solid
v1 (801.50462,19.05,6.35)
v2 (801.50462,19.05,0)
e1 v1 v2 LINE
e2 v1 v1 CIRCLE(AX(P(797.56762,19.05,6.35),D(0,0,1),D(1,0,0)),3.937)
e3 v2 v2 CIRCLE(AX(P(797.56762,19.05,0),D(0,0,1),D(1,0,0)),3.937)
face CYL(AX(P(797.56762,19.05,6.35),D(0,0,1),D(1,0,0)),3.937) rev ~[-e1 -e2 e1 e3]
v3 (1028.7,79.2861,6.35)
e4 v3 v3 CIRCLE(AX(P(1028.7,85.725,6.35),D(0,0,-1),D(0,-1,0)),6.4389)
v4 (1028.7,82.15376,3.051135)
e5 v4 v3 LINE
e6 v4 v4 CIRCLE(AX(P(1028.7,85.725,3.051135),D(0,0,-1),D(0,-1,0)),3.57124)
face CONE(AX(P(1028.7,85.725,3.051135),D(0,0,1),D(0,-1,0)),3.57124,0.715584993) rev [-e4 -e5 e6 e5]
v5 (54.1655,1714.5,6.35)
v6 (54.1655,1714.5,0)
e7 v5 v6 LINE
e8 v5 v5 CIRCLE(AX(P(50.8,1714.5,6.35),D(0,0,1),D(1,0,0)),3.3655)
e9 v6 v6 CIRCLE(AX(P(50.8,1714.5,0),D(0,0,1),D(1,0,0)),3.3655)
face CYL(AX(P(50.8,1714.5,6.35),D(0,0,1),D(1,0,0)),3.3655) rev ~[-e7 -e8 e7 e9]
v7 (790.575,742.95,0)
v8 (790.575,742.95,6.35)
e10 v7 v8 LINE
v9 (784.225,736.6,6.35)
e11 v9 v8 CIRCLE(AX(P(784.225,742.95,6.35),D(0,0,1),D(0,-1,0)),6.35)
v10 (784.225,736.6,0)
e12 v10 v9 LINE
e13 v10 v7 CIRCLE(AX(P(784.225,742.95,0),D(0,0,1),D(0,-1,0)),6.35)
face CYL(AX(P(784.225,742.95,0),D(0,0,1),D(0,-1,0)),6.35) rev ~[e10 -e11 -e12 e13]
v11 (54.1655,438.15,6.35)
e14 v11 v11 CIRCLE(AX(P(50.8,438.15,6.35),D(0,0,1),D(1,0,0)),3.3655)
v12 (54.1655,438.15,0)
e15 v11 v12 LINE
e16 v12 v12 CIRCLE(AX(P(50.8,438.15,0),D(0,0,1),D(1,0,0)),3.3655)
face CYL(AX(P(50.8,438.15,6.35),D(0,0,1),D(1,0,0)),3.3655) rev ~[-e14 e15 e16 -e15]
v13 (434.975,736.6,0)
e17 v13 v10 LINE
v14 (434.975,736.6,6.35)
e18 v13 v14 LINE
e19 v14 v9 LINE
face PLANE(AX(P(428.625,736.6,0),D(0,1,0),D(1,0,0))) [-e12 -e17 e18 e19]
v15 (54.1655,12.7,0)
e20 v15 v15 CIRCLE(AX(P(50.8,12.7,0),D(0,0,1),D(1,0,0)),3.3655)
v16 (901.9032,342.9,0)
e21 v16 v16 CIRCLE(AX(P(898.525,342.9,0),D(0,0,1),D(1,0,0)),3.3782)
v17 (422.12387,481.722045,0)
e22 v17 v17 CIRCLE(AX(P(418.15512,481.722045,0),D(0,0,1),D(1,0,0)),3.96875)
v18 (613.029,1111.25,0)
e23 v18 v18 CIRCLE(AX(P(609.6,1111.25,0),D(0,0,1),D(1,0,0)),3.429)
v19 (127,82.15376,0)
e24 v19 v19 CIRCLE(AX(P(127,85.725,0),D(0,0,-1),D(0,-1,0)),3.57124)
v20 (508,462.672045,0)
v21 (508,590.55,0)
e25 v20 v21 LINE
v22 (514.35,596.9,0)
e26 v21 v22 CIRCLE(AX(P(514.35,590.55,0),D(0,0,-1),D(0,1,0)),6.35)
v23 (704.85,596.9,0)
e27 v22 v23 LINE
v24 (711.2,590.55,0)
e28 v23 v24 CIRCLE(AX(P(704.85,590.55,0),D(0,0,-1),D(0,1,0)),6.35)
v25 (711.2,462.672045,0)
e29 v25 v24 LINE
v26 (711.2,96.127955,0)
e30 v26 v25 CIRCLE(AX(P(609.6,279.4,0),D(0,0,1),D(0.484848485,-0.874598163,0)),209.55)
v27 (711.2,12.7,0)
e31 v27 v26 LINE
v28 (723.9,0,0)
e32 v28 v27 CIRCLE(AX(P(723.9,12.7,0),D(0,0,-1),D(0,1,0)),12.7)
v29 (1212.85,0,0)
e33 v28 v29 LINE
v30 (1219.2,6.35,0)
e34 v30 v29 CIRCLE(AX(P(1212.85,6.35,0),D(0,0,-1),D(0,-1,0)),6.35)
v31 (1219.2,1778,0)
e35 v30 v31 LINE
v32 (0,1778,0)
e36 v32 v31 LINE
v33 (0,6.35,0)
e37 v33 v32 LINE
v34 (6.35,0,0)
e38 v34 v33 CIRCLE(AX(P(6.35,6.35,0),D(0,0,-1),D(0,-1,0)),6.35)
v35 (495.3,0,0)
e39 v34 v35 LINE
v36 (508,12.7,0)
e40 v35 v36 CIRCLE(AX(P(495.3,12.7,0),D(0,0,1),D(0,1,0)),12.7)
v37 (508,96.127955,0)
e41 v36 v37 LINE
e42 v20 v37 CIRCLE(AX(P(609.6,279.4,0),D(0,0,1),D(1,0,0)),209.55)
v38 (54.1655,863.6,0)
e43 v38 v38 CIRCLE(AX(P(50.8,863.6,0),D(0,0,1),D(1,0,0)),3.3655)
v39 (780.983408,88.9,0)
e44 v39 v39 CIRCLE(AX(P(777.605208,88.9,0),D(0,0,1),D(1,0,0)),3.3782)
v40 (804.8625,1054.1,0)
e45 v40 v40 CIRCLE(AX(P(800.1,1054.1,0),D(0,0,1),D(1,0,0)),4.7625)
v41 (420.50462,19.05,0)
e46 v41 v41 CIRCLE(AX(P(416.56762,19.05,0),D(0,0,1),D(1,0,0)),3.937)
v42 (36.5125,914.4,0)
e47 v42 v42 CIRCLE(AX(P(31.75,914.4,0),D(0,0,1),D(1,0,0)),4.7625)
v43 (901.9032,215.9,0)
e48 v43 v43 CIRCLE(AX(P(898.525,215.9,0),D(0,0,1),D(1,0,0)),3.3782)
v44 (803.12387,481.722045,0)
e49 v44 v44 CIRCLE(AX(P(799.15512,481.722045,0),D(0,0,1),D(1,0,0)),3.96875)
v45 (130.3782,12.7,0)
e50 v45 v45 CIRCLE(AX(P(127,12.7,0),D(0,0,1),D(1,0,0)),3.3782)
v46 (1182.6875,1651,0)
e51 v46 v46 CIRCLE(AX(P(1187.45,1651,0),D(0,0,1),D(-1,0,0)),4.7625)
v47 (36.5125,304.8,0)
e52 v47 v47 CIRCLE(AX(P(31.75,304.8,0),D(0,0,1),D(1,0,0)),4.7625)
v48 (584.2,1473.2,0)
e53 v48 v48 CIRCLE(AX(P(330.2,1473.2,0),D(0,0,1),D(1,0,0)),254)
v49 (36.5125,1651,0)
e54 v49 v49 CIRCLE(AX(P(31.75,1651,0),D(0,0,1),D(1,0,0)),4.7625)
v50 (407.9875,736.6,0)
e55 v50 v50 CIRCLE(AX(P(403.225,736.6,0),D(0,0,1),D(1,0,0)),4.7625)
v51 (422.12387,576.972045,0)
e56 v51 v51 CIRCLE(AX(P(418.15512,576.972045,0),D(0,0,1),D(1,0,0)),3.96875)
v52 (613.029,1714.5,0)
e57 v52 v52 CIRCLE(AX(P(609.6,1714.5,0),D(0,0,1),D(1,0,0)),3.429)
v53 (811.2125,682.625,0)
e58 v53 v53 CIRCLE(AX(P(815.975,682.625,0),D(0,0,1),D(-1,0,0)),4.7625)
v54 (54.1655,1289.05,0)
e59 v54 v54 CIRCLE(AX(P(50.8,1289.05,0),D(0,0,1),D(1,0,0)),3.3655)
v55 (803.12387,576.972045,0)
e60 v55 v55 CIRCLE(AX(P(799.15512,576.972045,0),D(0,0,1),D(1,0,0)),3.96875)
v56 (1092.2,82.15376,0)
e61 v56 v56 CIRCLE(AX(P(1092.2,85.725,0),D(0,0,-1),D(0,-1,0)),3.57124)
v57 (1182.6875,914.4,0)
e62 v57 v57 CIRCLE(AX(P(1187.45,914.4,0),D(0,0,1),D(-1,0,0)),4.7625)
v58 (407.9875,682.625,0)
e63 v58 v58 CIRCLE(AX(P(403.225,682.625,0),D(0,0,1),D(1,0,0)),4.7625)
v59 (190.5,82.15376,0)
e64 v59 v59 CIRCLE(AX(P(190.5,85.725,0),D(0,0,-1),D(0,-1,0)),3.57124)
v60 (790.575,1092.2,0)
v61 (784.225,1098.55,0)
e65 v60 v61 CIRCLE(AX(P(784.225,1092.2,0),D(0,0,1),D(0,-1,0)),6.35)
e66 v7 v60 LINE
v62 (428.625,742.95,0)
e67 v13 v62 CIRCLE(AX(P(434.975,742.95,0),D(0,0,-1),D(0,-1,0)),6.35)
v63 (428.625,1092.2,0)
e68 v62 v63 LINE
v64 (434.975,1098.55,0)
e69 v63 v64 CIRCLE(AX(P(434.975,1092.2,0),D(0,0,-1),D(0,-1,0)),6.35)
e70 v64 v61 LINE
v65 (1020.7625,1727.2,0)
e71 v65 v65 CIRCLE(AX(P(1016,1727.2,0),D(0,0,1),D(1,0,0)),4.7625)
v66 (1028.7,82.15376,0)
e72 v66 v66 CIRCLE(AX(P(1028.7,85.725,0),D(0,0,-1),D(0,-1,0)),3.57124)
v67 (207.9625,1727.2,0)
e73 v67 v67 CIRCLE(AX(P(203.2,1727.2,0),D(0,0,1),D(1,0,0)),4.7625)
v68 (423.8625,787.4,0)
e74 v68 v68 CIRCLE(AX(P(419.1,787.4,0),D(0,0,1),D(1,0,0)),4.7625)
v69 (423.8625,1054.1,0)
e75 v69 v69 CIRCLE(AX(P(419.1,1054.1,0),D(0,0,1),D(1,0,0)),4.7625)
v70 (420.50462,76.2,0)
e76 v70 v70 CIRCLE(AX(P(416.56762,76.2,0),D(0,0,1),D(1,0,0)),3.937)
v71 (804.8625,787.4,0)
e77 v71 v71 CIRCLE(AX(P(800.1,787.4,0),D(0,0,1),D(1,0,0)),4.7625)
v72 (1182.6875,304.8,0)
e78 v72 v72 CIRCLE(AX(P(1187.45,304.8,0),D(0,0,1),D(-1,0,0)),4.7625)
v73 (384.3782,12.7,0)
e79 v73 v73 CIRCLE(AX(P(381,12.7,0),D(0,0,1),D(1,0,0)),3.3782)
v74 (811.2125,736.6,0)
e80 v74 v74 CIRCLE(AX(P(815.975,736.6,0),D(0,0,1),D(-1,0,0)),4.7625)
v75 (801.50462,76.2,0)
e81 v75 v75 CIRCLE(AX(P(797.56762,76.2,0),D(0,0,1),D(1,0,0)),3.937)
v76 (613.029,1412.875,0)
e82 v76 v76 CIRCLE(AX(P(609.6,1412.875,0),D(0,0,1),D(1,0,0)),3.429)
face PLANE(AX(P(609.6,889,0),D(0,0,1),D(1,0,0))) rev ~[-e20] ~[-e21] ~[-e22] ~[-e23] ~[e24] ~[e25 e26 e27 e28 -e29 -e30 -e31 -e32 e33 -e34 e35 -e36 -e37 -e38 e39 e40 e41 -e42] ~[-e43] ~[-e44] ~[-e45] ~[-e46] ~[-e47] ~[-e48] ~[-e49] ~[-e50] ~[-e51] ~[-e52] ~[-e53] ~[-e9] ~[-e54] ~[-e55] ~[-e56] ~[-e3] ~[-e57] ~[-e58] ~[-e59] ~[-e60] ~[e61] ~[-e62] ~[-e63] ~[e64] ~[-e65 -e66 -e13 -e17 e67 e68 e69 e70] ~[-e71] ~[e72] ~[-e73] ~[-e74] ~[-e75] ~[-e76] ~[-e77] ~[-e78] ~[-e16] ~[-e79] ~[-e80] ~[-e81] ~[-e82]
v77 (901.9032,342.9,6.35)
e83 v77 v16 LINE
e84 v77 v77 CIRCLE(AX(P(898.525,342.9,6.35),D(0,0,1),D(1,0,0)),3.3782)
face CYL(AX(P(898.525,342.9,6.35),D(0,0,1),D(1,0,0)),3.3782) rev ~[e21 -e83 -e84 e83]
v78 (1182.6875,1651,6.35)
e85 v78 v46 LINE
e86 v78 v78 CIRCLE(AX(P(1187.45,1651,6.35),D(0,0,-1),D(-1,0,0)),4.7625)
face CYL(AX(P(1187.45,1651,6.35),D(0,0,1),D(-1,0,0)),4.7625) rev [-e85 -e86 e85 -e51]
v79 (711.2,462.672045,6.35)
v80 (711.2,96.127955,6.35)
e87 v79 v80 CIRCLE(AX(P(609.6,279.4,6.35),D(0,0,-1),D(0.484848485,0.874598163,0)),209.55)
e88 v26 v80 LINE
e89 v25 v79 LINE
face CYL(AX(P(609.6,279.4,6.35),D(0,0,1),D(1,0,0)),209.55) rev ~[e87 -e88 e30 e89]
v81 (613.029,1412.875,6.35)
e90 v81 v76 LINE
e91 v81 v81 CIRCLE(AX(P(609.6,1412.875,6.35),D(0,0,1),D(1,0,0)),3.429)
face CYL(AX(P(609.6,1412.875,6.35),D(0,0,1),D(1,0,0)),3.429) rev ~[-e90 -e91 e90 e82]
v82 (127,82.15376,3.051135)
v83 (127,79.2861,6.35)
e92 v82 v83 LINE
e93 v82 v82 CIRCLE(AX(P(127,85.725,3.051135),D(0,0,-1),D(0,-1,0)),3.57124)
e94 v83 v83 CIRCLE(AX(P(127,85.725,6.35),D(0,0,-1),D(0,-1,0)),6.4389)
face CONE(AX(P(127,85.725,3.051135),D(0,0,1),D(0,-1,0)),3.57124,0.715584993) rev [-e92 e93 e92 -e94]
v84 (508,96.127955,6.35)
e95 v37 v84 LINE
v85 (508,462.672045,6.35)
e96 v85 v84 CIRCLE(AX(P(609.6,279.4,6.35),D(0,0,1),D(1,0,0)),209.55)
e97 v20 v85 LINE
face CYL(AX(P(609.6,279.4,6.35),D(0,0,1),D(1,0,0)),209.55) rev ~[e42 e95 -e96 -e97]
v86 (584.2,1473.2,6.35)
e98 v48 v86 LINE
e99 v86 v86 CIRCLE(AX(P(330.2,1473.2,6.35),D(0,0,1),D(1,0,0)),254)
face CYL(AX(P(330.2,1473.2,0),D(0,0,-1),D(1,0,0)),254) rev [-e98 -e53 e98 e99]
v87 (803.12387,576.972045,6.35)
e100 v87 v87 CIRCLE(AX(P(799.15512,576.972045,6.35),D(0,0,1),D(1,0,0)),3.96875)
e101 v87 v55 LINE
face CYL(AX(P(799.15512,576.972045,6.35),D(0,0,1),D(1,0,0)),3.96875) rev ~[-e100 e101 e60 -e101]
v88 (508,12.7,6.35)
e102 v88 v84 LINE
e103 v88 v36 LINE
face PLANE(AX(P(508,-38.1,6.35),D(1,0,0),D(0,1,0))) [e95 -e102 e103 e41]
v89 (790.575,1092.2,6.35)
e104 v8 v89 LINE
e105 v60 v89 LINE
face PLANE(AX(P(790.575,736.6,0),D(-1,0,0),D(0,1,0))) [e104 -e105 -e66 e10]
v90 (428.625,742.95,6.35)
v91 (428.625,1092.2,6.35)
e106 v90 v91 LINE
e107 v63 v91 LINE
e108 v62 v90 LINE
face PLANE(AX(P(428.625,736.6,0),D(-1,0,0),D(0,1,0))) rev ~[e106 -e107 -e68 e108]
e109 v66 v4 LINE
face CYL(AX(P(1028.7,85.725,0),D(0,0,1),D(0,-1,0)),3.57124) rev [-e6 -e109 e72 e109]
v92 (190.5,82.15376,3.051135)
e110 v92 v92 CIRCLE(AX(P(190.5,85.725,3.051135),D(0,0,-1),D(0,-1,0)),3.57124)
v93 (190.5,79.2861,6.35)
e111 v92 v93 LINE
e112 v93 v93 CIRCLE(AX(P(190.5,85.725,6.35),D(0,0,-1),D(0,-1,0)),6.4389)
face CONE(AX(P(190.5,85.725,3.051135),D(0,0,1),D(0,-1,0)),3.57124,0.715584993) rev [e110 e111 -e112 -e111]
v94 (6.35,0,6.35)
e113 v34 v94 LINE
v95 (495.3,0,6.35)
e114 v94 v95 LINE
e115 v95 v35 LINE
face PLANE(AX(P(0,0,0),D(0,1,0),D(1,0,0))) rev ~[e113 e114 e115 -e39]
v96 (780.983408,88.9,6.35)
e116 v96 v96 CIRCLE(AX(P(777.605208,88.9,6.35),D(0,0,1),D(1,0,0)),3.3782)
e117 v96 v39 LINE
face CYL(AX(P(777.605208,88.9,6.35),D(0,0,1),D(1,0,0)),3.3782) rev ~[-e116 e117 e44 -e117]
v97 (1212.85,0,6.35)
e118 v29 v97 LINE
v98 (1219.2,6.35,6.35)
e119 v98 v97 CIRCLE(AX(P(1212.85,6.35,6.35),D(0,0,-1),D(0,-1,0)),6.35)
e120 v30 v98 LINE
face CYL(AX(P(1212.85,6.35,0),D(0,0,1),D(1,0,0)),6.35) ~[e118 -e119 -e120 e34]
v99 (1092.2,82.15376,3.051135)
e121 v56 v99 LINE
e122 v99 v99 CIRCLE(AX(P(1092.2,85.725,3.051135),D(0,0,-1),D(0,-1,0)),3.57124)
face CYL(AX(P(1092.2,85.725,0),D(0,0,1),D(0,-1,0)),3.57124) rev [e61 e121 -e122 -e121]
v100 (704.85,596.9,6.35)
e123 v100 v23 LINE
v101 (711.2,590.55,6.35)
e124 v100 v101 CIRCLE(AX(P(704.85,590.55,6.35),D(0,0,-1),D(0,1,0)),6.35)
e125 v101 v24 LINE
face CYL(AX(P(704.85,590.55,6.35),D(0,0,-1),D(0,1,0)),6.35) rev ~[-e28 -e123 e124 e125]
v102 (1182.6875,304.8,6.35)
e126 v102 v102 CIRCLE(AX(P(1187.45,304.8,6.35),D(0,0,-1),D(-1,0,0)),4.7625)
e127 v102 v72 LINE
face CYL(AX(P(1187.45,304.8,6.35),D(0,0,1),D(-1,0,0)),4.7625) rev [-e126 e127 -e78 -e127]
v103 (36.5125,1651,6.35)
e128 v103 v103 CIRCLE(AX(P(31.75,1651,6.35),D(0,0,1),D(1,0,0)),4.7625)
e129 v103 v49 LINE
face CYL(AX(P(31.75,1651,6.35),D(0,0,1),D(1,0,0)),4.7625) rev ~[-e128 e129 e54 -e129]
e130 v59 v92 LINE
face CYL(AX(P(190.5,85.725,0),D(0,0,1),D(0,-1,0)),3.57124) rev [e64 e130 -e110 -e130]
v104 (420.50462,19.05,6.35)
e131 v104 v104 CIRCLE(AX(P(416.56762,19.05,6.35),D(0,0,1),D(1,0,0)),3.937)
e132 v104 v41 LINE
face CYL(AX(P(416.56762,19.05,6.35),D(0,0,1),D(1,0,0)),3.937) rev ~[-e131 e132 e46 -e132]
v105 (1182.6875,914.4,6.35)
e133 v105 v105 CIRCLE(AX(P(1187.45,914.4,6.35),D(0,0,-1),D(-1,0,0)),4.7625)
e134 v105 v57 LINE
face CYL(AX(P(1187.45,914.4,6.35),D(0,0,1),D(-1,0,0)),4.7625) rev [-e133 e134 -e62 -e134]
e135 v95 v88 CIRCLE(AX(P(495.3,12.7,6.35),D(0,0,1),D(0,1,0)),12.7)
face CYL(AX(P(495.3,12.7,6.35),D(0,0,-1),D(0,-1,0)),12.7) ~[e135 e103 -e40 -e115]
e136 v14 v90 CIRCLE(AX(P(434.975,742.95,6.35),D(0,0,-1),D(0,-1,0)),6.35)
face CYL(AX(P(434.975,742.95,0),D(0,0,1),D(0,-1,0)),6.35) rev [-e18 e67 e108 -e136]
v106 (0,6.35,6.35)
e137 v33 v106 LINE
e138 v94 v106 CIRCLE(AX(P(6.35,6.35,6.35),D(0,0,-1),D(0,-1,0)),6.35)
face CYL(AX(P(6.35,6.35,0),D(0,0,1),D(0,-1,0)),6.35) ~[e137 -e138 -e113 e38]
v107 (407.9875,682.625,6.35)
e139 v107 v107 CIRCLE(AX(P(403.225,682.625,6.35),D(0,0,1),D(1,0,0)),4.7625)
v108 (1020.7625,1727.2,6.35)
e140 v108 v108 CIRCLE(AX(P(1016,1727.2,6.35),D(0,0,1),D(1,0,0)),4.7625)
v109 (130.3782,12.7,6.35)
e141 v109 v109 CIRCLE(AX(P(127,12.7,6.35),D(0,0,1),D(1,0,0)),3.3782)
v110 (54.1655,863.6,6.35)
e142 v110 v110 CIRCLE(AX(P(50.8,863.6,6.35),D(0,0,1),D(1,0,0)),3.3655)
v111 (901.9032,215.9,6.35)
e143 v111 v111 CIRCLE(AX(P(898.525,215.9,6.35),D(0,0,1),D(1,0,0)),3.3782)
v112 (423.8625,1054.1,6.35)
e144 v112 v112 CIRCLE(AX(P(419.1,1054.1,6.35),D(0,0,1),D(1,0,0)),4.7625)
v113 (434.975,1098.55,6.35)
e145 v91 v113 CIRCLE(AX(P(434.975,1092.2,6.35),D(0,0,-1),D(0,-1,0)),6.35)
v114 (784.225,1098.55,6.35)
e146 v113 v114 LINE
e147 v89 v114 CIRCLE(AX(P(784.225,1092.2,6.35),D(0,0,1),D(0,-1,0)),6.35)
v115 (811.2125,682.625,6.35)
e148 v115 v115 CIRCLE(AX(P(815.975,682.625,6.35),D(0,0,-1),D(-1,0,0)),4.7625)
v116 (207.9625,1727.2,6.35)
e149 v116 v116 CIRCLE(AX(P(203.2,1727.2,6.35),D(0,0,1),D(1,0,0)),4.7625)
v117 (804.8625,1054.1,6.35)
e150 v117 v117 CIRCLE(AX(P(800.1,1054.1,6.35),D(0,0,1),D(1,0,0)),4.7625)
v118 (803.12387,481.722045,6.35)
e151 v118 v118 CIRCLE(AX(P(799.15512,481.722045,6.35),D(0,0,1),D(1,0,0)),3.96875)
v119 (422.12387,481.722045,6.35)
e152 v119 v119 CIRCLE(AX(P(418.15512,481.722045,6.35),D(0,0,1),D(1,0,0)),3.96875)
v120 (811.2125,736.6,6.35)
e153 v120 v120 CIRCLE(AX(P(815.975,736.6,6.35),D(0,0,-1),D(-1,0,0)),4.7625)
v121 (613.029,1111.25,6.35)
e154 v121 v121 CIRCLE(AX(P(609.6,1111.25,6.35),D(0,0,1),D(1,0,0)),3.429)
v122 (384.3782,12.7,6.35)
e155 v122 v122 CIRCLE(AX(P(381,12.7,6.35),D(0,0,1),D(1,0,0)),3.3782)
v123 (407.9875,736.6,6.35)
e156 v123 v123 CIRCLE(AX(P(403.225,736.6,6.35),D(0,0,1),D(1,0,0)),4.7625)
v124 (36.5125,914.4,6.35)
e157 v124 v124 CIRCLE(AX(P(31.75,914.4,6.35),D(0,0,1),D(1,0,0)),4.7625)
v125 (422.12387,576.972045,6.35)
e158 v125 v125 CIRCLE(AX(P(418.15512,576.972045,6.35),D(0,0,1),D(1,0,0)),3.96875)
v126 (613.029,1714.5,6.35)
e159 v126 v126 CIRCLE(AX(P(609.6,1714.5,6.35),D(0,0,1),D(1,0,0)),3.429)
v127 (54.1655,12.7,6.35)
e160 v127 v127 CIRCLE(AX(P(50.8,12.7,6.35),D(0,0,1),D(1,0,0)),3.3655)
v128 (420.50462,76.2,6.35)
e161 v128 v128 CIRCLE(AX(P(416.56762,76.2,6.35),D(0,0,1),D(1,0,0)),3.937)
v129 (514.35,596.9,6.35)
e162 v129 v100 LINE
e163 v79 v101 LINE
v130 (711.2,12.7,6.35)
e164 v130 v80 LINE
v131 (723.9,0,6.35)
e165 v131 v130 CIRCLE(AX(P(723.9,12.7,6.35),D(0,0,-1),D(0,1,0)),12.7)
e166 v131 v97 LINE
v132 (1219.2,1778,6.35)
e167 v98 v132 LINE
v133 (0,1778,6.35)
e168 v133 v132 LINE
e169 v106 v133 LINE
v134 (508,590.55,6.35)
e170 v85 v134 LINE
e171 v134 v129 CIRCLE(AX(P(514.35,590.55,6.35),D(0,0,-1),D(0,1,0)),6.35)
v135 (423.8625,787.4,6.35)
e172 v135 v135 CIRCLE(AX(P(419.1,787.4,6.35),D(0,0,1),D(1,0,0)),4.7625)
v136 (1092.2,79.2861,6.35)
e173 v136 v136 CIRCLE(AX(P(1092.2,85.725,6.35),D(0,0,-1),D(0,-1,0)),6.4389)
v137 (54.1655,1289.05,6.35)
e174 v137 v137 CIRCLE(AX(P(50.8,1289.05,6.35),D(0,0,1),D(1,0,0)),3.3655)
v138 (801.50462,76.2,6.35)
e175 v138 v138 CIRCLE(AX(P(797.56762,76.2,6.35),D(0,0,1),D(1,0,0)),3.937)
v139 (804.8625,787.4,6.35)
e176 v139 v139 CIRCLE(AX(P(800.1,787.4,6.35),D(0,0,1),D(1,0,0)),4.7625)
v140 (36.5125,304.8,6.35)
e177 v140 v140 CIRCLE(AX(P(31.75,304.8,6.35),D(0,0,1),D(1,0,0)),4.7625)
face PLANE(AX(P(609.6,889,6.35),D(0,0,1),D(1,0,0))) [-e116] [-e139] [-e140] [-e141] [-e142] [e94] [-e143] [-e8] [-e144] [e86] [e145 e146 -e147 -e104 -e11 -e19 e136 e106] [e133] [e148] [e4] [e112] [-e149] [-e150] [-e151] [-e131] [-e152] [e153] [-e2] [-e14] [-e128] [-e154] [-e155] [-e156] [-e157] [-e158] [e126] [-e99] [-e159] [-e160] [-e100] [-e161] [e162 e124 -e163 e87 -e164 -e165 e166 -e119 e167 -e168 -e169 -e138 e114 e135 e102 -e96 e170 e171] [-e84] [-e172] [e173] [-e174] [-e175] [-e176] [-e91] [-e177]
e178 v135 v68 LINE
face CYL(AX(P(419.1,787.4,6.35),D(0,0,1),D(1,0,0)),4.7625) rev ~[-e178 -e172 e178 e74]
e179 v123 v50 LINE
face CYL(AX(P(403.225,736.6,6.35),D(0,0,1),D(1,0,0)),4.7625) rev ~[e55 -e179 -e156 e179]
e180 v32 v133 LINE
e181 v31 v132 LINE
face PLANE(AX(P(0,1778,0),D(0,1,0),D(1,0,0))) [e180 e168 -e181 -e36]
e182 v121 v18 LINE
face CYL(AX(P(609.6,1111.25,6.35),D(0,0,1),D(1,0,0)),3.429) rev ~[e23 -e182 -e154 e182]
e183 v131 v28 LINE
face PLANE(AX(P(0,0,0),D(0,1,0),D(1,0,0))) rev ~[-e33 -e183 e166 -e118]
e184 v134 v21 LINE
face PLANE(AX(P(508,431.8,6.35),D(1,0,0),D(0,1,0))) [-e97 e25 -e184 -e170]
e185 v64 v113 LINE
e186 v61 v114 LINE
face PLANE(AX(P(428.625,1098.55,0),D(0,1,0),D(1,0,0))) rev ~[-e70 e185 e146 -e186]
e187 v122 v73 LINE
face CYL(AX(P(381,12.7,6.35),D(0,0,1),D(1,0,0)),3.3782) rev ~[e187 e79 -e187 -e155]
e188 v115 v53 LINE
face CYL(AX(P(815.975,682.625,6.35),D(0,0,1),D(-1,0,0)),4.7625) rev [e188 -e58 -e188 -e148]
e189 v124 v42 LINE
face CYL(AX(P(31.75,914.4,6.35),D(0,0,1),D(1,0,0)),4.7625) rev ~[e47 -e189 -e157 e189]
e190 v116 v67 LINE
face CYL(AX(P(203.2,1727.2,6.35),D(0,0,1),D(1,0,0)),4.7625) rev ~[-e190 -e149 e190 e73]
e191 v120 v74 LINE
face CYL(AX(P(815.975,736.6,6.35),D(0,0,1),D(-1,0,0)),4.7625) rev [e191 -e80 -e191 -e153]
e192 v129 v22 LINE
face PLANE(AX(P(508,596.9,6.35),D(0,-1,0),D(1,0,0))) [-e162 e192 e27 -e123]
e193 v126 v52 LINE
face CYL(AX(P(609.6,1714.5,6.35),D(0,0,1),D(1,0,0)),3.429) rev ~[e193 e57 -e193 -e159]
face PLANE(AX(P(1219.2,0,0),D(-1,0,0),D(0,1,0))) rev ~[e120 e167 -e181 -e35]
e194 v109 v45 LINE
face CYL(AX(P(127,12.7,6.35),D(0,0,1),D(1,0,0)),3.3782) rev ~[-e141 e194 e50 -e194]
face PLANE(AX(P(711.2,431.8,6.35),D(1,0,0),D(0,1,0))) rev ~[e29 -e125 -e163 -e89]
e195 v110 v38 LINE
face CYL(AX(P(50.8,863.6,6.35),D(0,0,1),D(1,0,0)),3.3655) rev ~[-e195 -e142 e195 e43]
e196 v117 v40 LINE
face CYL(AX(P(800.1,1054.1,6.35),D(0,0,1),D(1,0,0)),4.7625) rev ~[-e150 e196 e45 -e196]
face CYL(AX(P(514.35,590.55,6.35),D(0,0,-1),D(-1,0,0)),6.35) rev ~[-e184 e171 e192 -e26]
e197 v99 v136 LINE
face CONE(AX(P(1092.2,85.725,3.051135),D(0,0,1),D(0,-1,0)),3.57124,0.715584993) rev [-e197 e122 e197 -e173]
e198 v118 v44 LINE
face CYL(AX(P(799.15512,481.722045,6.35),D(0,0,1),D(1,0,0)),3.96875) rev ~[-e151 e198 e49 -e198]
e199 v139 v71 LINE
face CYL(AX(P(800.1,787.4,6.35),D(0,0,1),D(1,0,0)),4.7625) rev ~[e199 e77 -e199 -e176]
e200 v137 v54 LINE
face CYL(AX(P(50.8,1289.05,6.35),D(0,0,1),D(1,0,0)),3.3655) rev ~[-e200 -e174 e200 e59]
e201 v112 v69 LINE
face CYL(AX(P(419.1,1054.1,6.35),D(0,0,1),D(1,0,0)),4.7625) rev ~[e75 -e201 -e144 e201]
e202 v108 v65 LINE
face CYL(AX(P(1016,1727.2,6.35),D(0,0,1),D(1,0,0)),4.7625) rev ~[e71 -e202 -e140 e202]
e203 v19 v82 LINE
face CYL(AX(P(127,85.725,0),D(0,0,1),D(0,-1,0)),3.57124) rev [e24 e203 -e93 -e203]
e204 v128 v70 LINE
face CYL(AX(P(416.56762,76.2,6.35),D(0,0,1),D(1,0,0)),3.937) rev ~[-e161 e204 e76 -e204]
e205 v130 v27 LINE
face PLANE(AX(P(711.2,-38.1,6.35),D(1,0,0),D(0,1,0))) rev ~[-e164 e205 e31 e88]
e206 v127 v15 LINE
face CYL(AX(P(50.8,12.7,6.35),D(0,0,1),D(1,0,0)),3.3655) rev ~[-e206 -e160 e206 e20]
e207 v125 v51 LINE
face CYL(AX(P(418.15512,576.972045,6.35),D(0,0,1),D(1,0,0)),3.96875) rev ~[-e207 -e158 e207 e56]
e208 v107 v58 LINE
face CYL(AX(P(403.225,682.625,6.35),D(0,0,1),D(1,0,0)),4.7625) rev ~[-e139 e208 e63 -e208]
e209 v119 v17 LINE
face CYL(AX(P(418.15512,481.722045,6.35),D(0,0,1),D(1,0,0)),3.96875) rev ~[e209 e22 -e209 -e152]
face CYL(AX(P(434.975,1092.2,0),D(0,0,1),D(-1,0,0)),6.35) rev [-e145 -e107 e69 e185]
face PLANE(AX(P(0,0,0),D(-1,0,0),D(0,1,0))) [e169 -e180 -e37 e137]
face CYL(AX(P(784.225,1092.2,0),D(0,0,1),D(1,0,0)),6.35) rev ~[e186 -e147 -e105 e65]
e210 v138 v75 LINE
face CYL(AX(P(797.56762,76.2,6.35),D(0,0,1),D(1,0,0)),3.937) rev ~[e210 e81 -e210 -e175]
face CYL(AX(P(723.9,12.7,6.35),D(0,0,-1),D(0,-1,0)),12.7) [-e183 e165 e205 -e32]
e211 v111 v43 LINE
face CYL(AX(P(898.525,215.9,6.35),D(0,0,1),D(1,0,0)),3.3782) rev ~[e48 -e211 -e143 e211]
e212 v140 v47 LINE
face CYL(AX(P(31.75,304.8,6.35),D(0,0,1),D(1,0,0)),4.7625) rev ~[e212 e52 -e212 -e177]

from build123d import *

# Parameters (mm, degrees)
SKETCH1_W                                     = 1219.2
SKETCH1_H                                     = 1778
SKETCH1_R                                     = 254
SKETCH1_W_2                                   = 361.95
SKETCH1_H_2                                   = 361.95
BOSS_EXTRUDE1_DEPTH                           = 6.35
SKETCH3_R                                     = 209.55
CUT_EXTRUDE2_DEPTH                            = 2156.869421486
SKETCH2_W                                     = 203.2
SKETCH2_H                                     = 165.1
CUT_EXTRUDE1_DEPTH                            = 2156.869421486
SKETCH4_R                                     = 3.3655
CUT_EXTRUDE3_DEPTH                            = 2156.869421486
LPATTERN1_COUNT                               = 5
LPATTERN1_PITCH                               = 425.45
SKETCH5_R                                     = 3.429
CUT_EXTRUDE4_DEPTH                            = 2156.869421486
LPATTERN2_COUNT                               = 3
LPATTERN2_PITCH                               = 301.625
SKETCH6_R                                     = 3.3782
CUT_EXTRUDE5_DEPTH                            = 2156.869421486
SKETCH7_R                                     = 3.3782
CUT_EXTRUDE6_DEPTH                            = 2156.869421486
CSK_FOR_1_4_FLAT_HEAD_MACHINE_SCREW1_AT_COUNT = 2
CSK_FOR_1_4_FLAT_HEAD_MACHINE_SCREW1_AT_PITCH = 63.5
LPATTERN3_COUNT                               = 2
LPATTERN3_PITCH                               = 901.7
SKETCH12_R                                    = 4.7625
CUT_EXTRUDE7_DEPTH                            = 2156.869421486
SKETCH14_R                                    = 4.7625
CUT_EXTRUDE8_DEPTH                            = 2156.869421486
SKETCH15_R                                    = 4.7625
CUT_EXTRUDE9_DEPTH                            = 2156.869421486
SKETCH16_R                                    = 4.7625
CUT_EXTRUDE10_DEPTH                           = 2156.869421486
FILLET1_R                                     = 12.7
FILLET2_R                                     = 6.35
SKETCH17_R                                    = 3.937
CUT_EXTRUDE11_DEPTH                           = 2156.869421486
SKETCH18_R                                    = 3.96875
CUT_EXTRUDE12_DEPTH                           = 2156.869421486


with BuildPart() as part:
    # Sketch1 → Boss-Extrude1 (new body)
    with BuildSketch(Plane.XY):
        with Locations((609.6, 889)):
            Rectangle(SKETCH1_W, SKETCH1_H)
        with Locations((330.2, 1473.2)):
            Circle(SKETCH1_R, mode=Mode.SUBTRACT)
        with Locations((609.6, 917.575)):
            Rectangle(SKETCH1_W_2, SKETCH1_H_2, mode=Mode.SUBTRACT)
    extrude(amount=BOSS_EXTRUDE1_DEPTH)

    # Sketch3 → Cut-Extrude2 (cut, through all)
    with BuildSketch(Plane.XY.offset(6.35)):
        with Locations((609.6, 279.4)):
            Circle(SKETCH3_R)
    extrude(amount=-CUT_EXTRUDE2_DEPTH, mode=Mode.SUBTRACT)

    # Sketch2 → Cut-Extrude1 (cut, through all)
    with BuildSketch(Plane.XY.offset(6.35)):
        with Locations((609.6, 44.45)):
            Rectangle(SKETCH2_W, SKETCH2_H)
        with Locations((609.6, 514.35)):
            Rectangle(SKETCH2_W, SKETCH2_H)
    extrude(amount=-CUT_EXTRUDE1_DEPTH, mode=Mode.SUBTRACT)

    # Sketch4 → Cut-Extrude3 (cut, through all)
    with BuildSketch(Plane.XY.offset(6.35)):
        with Locations((50.8, 12.7)):
            Circle(SKETCH4_R)
    cut_extrude3 = extrude(amount=-CUT_EXTRUDE3_DEPTH, mode=Mode.SUBTRACT)

    # LPattern1: Cut-Extrude3 ×5
    with Locations(*[(0, i * LPATTERN1_PITCH, 0) for i in range(1, LPATTERN1_COUNT)]):
        add(cut_extrude3, mode=Mode.SUBTRACT)

    # Sketch5 → Cut-Extrude4 (cut, through all)
    with BuildSketch(Plane.XY.offset(6.35)):
        with Locations((609.6, 1714.5)):
            Circle(SKETCH5_R)
    cut_extrude4 = extrude(amount=-CUT_EXTRUDE4_DEPTH, mode=Mode.SUBTRACT)

    # LPattern2: Cut-Extrude4 ×3
    with Locations(*[(0, -i * LPATTERN2_PITCH, 0) for i in range(1, LPATTERN2_COUNT)]):
        add(cut_extrude4, mode=Mode.SUBTRACT)

    # Sketch6 → Cut-Extrude5 (cut, through all)
    with BuildSketch(Plane.XY.offset(6.35)):
        with Locations((127, 12.7)):
            Circle(SKETCH6_R)
        with Locations((381, 12.7)):
            Circle(SKETCH6_R)
    extrude(amount=-CUT_EXTRUDE5_DEPTH, mode=Mode.SUBTRACT)

    # Sketch7 → Cut-Extrude6 (cut, through all)
    with BuildSketch(Plane.XY.offset(6.35)):
        with Locations((777.605208253, 88.9)):
            Circle(SKETCH7_R)
        with Locations((898.525, 342.9)):
            Circle(SKETCH7_R)
        with Locations((898.525, 215.9)):
            Circle(SKETCH7_R)
    extrude(amount=-CUT_EXTRUDE6_DEPTH, mode=Mode.SUBTRACT)

    # Sketch11 → CSK for 1/4 Flat Head Machine Screw1 (revolve, cut)
    with BuildSketch(Plane(origin=(127, 85.725, 6.35), x_dir=(0, -1, 0), z_dir=(1, 0, 0))):
        Polygon((0, 0), (0, 6.35), (3.57124, 6.35), (3.57124, 3.298865467), (6.4389, 0), align=None)
    csk_for_1_4_flat_head_machine_screw1 = revolve(axis=Axis((127, 85.725, 12.7), (0, 0, -1)), mode=Mode.SUBTRACT)

    # CSK for 1/4 Flat Head Machine Screw1 at: CSK for 1/4 Flat Head Machine Screw1 ×2
    with Locations(*[(i * CSK_FOR_1_4_FLAT_HEAD_MACHINE_SCREW1_AT_PITCH, 0, 0) for i in range(1, CSK_FOR_1_4_FLAT_HEAD_MACHINE_SCREW1_AT_COUNT)]):
        add(csk_for_1_4_flat_head_machine_screw1, mode=Mode.SUBTRACT)

    # LPattern3: CSK for 1/4 Flat Head Machine Screw1 ×2
    with Locations(*[(i * LPATTERN3_PITCH, 0, 0) for i in range(1, LPATTERN3_COUNT)]):
        add(csk_for_1_4_flat_head_machine_screw1, mode=Mode.SUBTRACT)

    # LPattern3 copy 1 sketch → LPattern3 copy 1 (revolve, cut)
    with BuildSketch(Plane(origin=(1092.2, 85.725, 6.35), x_dir=(0, -1, 0), z_dir=(1, 0, 0))):
        Polygon((0, 0), (0, 6.35), (3.57124, 6.35), (3.57124, 3.298865467), (6.4389, 0), align=None)
    revolve(axis=Axis((1092.2, 85.725, 12.7), (0, 0, -1)), mode=Mode.SUBTRACT)

    # Sketch12 → Cut-Extrude7 (cut, through all)
    with BuildSketch(Plane.XY.offset(6.35)):
        with Locations((203.2, 1727.2)):
            Circle(SKETCH12_R)
        with Locations((1016, 1727.2)):
            Circle(SKETCH12_R)
    extrude(amount=-CUT_EXTRUDE7_DEPTH, mode=Mode.SUBTRACT)

    # Sketch14 → Cut-Extrude8 (cut, through all)
    with BuildSketch(Plane.XY.offset(6.35)):
        with Locations((31.75, 1651)):
            Circle(SKETCH14_R)
        with Locations((31.75, 914.4)):
            Circle(SKETCH14_R)
        with Locations((31.75, 304.8)):
            Circle(SKETCH14_R)
    cut_extrude8 = extrude(amount=-CUT_EXTRUDE8_DEPTH, mode=Mode.SUBTRACT)

    # Mirror1: Cut-Extrude8 across plane
    add(cut_extrude8.mirror(Plane.ZY.offset(-609.6)), mode=Mode.SUBTRACT)

    # Sketch15 → Cut-Extrude9 (cut, through all)
    with BuildSketch(Plane.XY.offset(6.35)):
        with Locations((403.225, 736.6)):
            Circle(SKETCH15_R)
        with Locations((403.225, 682.625)):
            Circle(SKETCH15_R)
    cut_extrude9 = extrude(amount=-CUT_EXTRUDE9_DEPTH, mode=Mode.SUBTRACT)

    # Mirror2: Cut-Extrude9 across plane
    add(cut_extrude9.mirror(Plane.ZY.offset(-609.6)), mode=Mode.SUBTRACT)

    # Sketch16 → Cut-Extrude10 (cut, through all)
    with BuildSketch(Plane.XY.offset(6.35)):
        with Locations((419.1, 1054.1)):
            Circle(SKETCH16_R)
        with Locations((419.1, 787.4)):
            Circle(SKETCH16_R)
        with Locations((800.1, 1054.1)):
            Circle(SKETCH16_R)
        with Locations((800.1, 787.4)):
            Circle(SKETCH16_R)
    extrude(amount=-CUT_EXTRUDE10_DEPTH, mode=Mode.SUBTRACT)

    # Fillet1
    fillet1_edges = [part.edges().sort_by_distance(p)[0] for p in [
        (508, 0, 3.175),
        (711.2, 0, 3.175),
    ]]
    fillet(fillet1_edges, radius=FILLET1_R)

    # Fillet2
    fillet2_edges = [part.edges().sort_by_distance(p)[0] for p in [
        (428.625, 1098.55, 3.175),
        (428.625, 736.6, 3.175),
        (790.575, 736.6, 3.175),
        (790.575, 1098.55, 3.175),
        (711.2, 596.9, 3.175),
        (508, 596.9, 3.175),
        (0, 0, 3.175),
        (1219.2, 0, 3.175),
    ]]
    fillet(fillet2_edges, radius=FILLET2_R)

    # Sketch17 → Cut-Extrude11 (cut, through all)
    with BuildSketch(Plane.XY.offset(6.35)):
        with Locations((416.56762, 76.2)):
            Circle(SKETCH17_R)
        with Locations((416.56762, 19.05)):
            Circle(SKETCH17_R)
        with Locations((797.56762, 19.05)):
            Circle(SKETCH17_R)
        with Locations((797.56762, 76.2)):
            Circle(SKETCH17_R)
    extrude(amount=-CUT_EXTRUDE11_DEPTH, mode=Mode.SUBTRACT)

    # Sketch18 → Cut-Extrude12 (cut, through all)
    with BuildSketch(Plane.XY.offset(6.35)):
        with Locations((418.15512, 576.972045059)):
            Circle(SKETCH18_R)
        with Locations((418.15512, 481.722045059)):
            Circle(SKETCH18_R)
        with Locations((799.15512, 481.722045059)):
            Circle(SKETCH18_R)
        with Locations((799.15512, 576.972045059)):
            Circle(SKETCH18_R)
    extrude(amount=-CUT_EXTRUDE12_DEPTH, mode=Mode.SUBTRACT)


solid = part.part
